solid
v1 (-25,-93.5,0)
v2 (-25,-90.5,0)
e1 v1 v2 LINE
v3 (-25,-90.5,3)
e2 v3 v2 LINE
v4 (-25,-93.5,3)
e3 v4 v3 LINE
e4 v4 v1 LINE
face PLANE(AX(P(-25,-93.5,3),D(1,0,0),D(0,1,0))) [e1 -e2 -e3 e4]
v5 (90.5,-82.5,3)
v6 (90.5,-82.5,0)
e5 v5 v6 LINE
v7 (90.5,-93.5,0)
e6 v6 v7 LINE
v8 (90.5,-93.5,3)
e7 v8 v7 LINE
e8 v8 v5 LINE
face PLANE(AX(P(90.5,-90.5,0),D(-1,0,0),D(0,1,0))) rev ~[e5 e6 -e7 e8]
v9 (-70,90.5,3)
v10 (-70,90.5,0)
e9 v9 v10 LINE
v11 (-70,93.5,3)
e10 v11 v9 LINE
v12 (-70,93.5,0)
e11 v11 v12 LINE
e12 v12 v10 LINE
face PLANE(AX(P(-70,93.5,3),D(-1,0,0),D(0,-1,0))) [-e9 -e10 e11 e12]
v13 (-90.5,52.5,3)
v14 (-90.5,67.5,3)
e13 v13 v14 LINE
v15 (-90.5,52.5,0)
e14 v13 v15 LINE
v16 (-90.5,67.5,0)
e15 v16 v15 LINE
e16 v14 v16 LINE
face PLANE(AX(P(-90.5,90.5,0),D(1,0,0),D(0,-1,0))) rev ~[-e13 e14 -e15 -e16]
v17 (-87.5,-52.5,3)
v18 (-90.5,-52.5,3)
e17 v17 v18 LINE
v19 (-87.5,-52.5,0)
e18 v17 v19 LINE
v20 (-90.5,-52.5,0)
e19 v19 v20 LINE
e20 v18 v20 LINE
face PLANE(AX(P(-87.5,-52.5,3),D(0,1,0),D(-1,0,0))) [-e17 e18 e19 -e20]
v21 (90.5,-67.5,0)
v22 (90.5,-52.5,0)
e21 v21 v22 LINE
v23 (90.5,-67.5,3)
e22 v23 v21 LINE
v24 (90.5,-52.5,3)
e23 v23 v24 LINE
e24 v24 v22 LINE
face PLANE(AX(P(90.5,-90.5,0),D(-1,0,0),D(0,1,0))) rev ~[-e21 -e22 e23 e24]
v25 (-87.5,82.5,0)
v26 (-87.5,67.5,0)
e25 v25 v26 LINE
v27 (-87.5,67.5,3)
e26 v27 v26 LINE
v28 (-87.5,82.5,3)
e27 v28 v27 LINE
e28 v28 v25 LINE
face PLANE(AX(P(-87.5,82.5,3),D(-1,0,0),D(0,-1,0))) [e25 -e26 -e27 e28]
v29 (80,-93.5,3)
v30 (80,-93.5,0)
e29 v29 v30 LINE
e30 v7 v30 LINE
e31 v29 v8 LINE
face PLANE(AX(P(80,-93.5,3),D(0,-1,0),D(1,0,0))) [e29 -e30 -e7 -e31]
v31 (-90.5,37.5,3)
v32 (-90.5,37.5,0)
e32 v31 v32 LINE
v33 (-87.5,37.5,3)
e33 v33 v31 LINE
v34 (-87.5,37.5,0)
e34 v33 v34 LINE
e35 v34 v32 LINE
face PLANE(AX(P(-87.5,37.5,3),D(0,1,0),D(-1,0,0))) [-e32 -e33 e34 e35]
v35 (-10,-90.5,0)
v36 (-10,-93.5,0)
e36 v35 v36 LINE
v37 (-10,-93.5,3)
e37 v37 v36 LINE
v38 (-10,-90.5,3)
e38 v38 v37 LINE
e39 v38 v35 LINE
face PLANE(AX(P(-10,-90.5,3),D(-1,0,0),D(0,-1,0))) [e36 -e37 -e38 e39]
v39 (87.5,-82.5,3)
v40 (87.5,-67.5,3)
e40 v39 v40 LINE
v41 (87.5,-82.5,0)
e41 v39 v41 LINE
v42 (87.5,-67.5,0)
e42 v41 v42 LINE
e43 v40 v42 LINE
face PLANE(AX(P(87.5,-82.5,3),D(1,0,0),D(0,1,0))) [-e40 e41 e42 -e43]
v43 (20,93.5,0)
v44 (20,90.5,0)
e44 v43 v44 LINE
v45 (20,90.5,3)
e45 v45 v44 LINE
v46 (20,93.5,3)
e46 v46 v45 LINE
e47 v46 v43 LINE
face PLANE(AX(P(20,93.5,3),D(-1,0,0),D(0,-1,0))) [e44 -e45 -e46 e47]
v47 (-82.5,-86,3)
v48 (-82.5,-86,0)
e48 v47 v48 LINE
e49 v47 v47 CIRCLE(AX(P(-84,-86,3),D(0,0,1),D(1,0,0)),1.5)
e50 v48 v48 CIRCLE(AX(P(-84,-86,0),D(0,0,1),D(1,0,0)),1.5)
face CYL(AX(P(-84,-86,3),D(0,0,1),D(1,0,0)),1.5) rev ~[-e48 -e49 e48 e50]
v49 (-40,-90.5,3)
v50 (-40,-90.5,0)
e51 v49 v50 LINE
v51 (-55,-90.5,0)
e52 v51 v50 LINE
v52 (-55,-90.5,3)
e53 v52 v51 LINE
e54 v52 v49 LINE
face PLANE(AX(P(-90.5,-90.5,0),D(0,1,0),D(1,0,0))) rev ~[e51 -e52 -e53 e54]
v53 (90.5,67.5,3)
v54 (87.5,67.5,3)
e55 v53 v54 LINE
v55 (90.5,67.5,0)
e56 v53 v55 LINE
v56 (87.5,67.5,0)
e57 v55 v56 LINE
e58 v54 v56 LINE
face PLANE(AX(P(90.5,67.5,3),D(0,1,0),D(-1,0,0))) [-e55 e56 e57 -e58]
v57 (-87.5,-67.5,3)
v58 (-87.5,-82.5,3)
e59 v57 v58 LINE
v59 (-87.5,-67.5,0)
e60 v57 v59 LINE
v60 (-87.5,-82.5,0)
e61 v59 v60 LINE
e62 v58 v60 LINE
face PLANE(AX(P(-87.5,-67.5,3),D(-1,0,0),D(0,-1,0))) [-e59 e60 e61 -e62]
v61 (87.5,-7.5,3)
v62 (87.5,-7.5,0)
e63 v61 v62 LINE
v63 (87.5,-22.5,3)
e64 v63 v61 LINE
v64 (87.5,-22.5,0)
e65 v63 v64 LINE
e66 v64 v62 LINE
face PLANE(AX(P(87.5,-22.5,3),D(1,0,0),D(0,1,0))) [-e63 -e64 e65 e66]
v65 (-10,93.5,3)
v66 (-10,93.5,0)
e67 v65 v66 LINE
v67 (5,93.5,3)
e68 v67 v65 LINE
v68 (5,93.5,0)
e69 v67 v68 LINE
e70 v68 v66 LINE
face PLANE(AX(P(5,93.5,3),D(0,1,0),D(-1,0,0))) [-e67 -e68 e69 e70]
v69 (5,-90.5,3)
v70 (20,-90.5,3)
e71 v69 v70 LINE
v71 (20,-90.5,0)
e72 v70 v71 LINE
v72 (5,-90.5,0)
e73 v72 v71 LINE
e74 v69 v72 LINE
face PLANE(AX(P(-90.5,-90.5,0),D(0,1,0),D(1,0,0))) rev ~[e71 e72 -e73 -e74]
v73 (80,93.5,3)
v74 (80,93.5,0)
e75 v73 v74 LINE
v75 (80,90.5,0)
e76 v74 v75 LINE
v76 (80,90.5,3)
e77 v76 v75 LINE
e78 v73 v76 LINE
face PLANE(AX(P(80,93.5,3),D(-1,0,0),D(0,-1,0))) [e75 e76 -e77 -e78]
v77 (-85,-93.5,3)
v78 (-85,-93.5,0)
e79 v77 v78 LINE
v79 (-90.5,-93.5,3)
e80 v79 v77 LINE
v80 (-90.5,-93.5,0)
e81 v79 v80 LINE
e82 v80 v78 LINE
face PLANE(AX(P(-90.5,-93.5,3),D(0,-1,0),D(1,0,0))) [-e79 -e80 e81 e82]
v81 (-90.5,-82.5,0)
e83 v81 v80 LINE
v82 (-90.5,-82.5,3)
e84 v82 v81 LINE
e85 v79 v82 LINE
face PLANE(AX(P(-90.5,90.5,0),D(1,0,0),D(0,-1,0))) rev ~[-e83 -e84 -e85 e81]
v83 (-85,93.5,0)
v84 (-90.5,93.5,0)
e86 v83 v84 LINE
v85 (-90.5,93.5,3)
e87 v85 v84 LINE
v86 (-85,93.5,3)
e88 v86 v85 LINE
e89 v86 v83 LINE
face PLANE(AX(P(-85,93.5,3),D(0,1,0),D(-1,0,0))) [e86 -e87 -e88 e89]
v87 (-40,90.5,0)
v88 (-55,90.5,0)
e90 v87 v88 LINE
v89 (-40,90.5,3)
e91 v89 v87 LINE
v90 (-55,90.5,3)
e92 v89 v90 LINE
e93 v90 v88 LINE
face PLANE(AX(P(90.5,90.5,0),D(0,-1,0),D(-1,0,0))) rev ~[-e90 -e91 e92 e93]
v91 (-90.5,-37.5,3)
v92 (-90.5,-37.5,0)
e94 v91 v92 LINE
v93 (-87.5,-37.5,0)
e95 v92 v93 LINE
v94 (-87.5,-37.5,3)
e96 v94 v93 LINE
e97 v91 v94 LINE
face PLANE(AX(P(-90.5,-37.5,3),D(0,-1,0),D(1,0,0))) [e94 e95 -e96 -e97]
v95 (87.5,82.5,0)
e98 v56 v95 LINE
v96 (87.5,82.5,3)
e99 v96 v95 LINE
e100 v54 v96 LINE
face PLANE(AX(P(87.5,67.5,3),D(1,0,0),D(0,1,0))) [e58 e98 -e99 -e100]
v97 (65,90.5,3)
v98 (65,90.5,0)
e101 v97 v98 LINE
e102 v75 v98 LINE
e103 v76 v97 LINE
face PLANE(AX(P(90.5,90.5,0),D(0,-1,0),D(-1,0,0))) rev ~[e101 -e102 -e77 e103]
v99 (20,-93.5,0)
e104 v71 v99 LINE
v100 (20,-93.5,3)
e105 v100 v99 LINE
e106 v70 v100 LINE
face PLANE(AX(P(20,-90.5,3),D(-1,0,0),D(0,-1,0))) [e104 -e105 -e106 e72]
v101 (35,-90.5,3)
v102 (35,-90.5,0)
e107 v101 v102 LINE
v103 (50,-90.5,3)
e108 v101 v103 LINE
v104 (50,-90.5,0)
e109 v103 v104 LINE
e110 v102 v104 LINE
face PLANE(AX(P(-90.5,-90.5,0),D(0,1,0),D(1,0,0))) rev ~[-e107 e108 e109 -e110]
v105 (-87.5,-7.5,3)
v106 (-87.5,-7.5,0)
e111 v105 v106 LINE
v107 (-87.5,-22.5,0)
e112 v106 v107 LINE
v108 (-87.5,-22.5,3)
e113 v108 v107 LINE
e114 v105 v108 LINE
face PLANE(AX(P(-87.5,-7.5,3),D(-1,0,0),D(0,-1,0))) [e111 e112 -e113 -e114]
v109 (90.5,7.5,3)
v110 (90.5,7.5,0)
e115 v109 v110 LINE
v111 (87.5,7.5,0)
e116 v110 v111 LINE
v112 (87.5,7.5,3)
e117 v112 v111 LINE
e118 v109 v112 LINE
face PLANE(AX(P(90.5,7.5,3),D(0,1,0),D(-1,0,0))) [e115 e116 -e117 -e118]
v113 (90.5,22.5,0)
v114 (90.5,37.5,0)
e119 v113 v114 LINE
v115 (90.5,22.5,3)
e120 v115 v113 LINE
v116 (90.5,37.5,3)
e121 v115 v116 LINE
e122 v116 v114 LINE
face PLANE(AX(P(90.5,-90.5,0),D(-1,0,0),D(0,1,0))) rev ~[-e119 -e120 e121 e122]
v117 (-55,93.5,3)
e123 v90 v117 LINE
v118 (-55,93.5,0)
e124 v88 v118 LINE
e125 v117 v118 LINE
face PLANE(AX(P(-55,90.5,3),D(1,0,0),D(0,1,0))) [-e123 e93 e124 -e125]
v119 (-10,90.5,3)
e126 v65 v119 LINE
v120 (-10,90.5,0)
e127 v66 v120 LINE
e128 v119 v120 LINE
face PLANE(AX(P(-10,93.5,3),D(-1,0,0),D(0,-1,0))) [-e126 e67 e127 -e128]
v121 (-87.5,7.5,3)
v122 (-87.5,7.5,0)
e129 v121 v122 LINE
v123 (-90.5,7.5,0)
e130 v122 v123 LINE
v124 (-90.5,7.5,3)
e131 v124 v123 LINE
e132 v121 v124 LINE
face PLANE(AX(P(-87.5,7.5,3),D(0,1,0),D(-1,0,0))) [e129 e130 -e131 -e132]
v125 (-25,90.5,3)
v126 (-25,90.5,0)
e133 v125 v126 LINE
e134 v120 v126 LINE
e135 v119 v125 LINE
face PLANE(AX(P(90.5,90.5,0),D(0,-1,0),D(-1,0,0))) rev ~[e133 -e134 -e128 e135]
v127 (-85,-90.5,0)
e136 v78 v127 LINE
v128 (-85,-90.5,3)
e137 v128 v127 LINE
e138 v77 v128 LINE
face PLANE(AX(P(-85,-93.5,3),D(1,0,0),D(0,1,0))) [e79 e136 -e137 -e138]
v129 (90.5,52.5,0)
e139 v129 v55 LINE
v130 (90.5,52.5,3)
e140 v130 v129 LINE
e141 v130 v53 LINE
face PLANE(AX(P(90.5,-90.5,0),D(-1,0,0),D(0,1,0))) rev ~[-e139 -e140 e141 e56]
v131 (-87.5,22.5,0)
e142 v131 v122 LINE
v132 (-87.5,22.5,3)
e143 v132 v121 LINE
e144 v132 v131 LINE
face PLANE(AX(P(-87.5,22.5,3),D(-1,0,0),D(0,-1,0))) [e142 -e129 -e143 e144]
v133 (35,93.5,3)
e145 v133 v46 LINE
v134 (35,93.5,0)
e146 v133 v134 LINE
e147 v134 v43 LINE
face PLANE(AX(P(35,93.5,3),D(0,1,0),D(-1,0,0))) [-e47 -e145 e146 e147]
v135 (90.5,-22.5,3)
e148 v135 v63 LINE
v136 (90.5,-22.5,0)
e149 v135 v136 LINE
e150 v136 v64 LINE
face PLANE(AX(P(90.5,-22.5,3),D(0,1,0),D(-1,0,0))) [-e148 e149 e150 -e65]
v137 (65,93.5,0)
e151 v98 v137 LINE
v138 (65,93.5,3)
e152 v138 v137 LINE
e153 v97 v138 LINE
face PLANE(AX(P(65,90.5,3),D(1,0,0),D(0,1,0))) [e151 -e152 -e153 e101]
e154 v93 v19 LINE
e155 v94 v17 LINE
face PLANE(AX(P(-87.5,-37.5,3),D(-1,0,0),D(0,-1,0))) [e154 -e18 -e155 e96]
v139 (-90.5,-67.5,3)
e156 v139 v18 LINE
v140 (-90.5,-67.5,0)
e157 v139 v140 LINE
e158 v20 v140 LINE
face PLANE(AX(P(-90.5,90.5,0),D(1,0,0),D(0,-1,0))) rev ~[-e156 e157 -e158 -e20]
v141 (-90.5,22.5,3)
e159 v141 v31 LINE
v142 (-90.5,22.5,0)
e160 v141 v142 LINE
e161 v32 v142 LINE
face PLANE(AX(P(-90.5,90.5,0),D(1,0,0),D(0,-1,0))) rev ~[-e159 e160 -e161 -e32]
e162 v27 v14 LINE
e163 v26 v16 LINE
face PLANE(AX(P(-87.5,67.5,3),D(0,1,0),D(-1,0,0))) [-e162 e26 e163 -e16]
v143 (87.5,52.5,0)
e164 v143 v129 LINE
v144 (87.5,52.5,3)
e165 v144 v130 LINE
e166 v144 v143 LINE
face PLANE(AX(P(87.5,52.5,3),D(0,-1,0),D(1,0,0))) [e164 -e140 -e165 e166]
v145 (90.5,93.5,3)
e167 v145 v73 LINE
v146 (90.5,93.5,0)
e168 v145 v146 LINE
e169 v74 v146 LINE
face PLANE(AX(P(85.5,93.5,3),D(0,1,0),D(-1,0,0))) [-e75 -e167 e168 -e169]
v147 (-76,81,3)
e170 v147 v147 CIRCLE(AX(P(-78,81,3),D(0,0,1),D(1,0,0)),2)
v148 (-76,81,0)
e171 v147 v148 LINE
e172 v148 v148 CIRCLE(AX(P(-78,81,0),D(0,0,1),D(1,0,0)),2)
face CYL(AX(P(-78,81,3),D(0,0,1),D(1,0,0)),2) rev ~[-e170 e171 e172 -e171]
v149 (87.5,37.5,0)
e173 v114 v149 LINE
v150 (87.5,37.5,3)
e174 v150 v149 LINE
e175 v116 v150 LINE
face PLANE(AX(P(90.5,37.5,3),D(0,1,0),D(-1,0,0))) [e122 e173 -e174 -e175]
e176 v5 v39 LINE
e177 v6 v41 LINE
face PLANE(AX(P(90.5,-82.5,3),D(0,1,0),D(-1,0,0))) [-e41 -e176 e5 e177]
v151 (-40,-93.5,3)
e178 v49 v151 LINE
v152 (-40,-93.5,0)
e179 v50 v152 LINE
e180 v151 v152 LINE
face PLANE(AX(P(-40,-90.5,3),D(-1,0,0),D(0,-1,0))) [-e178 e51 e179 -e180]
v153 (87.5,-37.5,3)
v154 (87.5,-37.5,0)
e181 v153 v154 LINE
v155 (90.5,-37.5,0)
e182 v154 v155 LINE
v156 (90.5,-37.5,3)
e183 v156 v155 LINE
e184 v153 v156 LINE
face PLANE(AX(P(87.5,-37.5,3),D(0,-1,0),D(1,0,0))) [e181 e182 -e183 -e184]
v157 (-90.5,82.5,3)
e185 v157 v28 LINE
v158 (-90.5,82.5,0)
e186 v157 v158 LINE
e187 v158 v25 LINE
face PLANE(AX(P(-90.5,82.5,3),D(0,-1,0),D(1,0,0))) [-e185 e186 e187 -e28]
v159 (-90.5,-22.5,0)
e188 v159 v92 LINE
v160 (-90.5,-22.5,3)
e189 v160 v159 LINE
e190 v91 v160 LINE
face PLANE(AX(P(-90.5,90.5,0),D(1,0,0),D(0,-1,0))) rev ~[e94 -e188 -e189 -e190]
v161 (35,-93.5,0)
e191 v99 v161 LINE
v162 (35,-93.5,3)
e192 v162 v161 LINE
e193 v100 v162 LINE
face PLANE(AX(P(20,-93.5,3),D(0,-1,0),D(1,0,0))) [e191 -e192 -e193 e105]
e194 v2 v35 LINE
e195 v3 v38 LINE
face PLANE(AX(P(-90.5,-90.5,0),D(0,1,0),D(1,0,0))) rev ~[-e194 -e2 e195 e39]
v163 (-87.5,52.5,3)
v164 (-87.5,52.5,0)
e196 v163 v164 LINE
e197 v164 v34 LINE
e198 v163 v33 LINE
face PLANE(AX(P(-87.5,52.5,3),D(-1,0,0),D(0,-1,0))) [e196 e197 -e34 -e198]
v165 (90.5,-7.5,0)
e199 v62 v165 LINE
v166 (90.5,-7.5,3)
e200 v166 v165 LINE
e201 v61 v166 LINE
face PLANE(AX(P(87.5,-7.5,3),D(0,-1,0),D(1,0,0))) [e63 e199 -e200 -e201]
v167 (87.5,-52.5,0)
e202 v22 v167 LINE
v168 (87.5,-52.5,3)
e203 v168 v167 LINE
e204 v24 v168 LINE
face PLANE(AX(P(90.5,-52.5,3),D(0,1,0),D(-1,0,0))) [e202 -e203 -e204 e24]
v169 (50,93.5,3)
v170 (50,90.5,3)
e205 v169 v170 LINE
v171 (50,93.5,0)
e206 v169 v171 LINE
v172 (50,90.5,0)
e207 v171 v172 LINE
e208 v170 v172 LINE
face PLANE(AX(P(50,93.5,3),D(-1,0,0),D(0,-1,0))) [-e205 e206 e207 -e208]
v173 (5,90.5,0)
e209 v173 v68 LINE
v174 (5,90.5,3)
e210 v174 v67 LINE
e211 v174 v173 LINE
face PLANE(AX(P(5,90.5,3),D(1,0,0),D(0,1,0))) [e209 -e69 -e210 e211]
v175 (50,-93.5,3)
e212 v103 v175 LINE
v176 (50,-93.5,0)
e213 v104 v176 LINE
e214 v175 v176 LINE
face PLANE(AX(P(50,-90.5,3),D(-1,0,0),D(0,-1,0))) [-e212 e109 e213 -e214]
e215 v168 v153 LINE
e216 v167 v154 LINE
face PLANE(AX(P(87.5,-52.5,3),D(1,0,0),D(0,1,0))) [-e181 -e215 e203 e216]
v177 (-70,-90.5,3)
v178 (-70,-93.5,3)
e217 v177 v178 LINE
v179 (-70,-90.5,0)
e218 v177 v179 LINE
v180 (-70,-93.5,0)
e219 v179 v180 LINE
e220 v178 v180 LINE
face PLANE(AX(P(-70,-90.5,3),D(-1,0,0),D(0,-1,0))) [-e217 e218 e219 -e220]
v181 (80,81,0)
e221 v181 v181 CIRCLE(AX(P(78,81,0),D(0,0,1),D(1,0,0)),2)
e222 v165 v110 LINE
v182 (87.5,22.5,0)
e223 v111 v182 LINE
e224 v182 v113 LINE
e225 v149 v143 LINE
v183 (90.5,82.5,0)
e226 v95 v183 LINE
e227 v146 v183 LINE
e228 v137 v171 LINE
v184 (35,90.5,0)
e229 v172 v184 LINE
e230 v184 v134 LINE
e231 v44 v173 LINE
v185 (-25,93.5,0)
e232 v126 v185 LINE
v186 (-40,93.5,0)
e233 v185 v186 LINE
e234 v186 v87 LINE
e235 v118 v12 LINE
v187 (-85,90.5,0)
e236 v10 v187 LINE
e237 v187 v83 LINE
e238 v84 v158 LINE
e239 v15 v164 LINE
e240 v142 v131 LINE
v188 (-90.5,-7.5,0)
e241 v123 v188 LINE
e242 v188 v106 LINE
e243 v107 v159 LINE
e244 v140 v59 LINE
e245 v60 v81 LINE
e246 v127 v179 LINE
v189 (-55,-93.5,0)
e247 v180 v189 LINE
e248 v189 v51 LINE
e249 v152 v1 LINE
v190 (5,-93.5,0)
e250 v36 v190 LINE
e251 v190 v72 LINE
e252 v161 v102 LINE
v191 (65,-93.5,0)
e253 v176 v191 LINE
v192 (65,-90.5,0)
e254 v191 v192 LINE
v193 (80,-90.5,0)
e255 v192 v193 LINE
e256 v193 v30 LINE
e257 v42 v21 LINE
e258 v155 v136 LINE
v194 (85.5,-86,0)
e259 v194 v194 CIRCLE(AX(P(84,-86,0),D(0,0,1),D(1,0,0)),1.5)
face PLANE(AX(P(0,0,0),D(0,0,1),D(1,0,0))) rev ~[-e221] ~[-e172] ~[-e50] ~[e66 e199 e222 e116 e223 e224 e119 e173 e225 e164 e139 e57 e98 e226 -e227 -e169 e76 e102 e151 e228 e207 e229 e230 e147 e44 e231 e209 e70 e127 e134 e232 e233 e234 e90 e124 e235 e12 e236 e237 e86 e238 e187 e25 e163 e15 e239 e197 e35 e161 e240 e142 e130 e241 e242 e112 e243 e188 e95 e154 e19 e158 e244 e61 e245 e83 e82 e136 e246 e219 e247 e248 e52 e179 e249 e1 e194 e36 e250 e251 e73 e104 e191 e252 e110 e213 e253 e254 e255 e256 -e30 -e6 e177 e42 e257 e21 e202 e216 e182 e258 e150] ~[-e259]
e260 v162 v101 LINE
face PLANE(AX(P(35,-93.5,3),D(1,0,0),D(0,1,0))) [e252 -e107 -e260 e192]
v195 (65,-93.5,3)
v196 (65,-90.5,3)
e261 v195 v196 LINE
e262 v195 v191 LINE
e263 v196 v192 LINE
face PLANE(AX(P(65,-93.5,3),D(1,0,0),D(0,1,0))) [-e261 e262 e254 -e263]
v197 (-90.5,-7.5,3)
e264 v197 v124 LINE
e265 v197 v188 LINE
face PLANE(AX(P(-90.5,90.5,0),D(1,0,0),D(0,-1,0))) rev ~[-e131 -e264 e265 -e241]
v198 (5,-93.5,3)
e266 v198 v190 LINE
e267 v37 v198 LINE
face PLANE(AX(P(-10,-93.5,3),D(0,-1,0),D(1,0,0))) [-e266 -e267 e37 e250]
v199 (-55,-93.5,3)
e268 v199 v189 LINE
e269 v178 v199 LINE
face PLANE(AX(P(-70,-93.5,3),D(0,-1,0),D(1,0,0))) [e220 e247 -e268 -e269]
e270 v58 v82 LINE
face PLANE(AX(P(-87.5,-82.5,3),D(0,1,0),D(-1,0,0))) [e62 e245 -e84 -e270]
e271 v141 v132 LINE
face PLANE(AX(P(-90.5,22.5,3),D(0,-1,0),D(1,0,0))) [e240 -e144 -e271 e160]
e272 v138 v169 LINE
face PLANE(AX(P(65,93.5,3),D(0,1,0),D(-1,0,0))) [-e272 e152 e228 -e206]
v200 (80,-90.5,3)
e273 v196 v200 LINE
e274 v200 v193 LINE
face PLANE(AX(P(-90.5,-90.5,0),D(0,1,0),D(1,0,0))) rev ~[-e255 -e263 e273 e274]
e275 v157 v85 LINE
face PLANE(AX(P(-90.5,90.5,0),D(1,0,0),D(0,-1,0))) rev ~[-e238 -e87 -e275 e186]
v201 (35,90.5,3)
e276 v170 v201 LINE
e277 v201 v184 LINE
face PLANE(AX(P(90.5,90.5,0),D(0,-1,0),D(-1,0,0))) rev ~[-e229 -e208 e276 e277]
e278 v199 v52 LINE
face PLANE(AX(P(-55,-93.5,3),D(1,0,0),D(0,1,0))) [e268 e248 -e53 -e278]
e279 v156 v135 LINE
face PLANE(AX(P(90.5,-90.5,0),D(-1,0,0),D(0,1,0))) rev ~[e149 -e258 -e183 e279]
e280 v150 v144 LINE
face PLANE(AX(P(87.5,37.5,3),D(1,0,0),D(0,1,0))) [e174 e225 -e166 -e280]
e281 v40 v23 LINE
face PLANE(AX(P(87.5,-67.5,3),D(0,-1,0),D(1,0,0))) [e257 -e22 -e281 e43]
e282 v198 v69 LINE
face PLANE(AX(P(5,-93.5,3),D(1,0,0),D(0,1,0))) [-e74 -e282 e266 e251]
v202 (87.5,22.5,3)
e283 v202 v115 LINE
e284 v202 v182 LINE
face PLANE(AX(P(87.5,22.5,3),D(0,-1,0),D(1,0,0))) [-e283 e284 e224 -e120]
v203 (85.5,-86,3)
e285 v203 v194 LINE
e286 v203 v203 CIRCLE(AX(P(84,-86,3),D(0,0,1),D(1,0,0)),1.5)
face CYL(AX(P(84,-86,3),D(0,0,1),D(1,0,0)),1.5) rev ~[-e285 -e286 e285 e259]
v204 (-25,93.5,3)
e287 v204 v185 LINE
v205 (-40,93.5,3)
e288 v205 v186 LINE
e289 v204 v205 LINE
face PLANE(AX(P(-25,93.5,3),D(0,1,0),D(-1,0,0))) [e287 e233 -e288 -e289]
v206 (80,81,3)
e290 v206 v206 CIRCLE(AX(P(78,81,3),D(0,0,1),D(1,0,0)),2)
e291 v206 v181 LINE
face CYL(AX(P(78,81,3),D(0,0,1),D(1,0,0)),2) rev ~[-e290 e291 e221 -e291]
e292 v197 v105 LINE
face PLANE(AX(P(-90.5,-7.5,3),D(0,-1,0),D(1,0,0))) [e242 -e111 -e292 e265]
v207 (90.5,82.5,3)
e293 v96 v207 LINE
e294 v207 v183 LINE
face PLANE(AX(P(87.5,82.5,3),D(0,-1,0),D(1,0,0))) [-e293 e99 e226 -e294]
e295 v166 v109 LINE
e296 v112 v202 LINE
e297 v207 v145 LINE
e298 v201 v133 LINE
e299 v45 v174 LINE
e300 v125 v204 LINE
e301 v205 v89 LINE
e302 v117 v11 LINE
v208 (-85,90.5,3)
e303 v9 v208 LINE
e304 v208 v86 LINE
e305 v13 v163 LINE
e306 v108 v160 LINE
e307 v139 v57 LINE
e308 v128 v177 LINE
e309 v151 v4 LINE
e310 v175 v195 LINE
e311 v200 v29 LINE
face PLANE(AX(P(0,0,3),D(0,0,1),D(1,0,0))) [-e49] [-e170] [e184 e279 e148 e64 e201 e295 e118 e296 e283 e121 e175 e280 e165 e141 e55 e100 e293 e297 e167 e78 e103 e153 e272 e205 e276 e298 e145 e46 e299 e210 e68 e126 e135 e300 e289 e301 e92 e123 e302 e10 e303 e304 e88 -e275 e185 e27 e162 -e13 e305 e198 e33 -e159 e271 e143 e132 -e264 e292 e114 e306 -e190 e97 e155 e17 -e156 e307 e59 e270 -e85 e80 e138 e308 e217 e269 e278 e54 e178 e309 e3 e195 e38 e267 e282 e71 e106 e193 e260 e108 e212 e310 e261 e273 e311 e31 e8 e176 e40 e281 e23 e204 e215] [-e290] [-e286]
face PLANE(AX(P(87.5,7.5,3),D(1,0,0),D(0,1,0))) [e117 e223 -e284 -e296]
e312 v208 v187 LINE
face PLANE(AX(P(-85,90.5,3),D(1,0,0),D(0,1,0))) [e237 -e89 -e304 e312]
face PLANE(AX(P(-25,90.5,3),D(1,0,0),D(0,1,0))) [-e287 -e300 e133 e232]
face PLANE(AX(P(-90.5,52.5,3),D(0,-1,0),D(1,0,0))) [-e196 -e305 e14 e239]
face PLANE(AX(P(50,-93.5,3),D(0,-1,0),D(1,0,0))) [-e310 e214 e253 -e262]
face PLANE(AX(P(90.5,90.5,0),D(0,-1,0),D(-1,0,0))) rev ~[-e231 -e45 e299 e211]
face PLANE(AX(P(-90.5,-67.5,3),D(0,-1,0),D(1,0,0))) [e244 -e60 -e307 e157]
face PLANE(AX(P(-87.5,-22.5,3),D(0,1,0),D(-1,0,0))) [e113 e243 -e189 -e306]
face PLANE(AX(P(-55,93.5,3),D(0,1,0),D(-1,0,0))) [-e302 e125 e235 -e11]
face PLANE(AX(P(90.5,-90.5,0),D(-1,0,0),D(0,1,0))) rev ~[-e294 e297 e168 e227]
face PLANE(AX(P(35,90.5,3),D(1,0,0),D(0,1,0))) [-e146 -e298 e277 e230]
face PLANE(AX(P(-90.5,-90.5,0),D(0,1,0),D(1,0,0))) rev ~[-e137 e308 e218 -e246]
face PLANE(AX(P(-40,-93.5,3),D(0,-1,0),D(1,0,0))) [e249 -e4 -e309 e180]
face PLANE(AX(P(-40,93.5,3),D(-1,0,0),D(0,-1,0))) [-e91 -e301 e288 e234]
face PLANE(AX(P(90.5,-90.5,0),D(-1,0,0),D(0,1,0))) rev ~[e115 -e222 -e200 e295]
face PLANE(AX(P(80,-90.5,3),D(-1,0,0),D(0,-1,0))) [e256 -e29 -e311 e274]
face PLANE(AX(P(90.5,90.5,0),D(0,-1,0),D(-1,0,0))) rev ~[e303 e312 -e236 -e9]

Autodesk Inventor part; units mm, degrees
ref_plane "YZ Plane" through (0, 0, 0) normal (1, 0, 0) x (0, 1, 0)
ref_plane "XZ Plane" through (0, 0, 0) normal (0, 1, 0) x (-1, 0, 0)
ref_plane "XY Plane" through (0, 0, 0) normal (0, 0, 1) x (1, 0, 0)
sketch "Sketch1" plane through (0, 0, 0) normal (0, 0, 1) x (1, 0, 0)
  line L0 (-90.5, -90.5) -> (90.5, -90.5)
  line L1 (90.5, -90.5) -> (90.5, 90.5)
  line L2 (90.5, 90.5) -> (-90.5, 90.5)
  line L3 (-90.5, 90.5) -> (-90.5, -90.5)
  line L4 (-90.5, -90.5) -> (90.5, 90.5) construction
  line L5 (90.5, -90.5) -> (-90.5, 90.5) construction
  point P0 (0, 0)
  dimension "d0" = 181
  dimension "d1" = 181
extrude "Extrusion1" add sketch "Sketch1" along normal blind 3
sketch "Sketch2" plane through (0, 0, 3) normal (0, 0, 1) x (1, 0, 0)
  line L0 (90.5, 90.5) -> (-90.5, 90.5) projected
  line L1 (-90.5, 90.5) -> (-85, 90.5)
  line L2 (-85, 90.5) -> (-85, 93.5)
  line L3 (-85, 93.5) -> (-90.5, 93.5)
  line L4 (-90.5, 93.5) -> (-90.5, 90.5)
  line L5 (80, 90.5) -> (85.5, 90.5)
  line L6 (85.5, 90.5) -> (85.5, 93.5)
  line L7 (85.5, 93.5) -> (80, 93.5)
  line L8 (80, 93.5) -> (80, 90.5)
  line L9 (-90.5, -93.5) -> (-85, -93.5)
  line L10 (-85, -93.5) -> (-85, -90.5)
  line L11 (-85, -90.5) -> (-90.5, -90.5)
  line L12 (-90.5, -90.5) -> (-90.5, -93.5)
  line L13 (80, -93.5) -> (85.5, -93.5)
  line L14 (85.5, -93.5) -> (85.5, -90.5)
  line L15 (85.5, -90.5) -> (80, -90.5)
  line L16 (80, -90.5) -> (80, -93.5)
  line L17 (-70, 90.5) -> (-55, 90.5)
  line L18 (-55, 90.5) -> (-55, 93.5)
  line L19 (-55, 93.5) -> (-70, 93.5)
  line L20 (-70, 93.5) -> (-70, 90.5)
  line L21 (-25, 90.5) -> (-25, 93.5)
  line L22 (-40, 90.5) -> (-25, 90.5)
  line L23 (-25, 93.5) -> (-40, 93.5)
  line L24 (-40, 93.5) -> (-40, 90.5)
  line L25 (5, 90.5) -> (5, 93.5)
  line L26 (-10, 90.5) -> (5, 90.5)
  line L27 (5, 93.5) -> (-10, 93.5)
  line L28 (-10, 93.5) -> (-10, 90.5)
  line L29 (35, 90.5) -> (35, 93.5)
  line L30 (20, 90.5) -> (35, 90.5)
  line L31 (35, 93.5) -> (20, 93.5)
  line L32 (20, 93.5) -> (20, 90.5)
  line L33 (65, 90.5) -> (65, 93.5)
  line L34 (50, 90.5) -> (65, 90.5)
  line L35 (65, 93.5) -> (50, 93.5)
  line L36 (50, 93.5) -> (50, 90.5)
  line L37 (-55, -93.5) -> (-55, -90.5)
  line L38 (-70, -93.5) -> (-55, -93.5)
  line L39 (-55, -90.5) -> (-70, -90.5)
  line L40 (-70, -90.5) -> (-70, -93.5)
  line L41 (-25, -93.5) -> (-25, -90.5)
  line L42 (-40, -93.5) -> (-25, -93.5)
  line L43 (-25, -90.5) -> (-40, -90.5)
  line L44 (-40, -90.5) -> (-40, -93.5)
  line L45 (5, -93.5) -> (5, -90.5)
  line L46 (-10, -93.5) -> (5, -93.5)
  line L47 (5, -90.5) -> (-10, -90.5)
  line L48 (-10, -90.5) -> (-10, -93.5)
  line L49 (35, -93.5) -> (35, -90.5)
  line L50 (20, -93.5) -> (35, -93.5)
  line L51 (35, -90.5) -> (20, -90.5)
  line L52 (20, -90.5) -> (20, -93.5)
  line L53 (65, -93.5) -> (65, -90.5)
  line L54 (50, -93.5) -> (65, -93.5)
  line L55 (65, -90.5) -> (50, -90.5)
  line L56 (50, -90.5) -> (50, -93.5)
  point P0 (0, 0)
  dimension "d4" = 5.5
  dimension "d5" = 3
  dimension "d8" = 170.5
  dimension "d11" = 184
  dimension "d14" = 15
  dimension "d15" = 3
  dimension "d16" = 15
  dimension "d19" = 30
  dimension "d22" = 184
extrude "Extrusion2" add sketch "Sketch2" against normal blind 3
sketch "Sketch3" plane through (0, 0, 3) normal (0, 0, 1) x (1, 0, 0)
  line L0 (-90.5, 93.5) -> (-90.5, -93.5) projected
  line L1 (-90.5, 82.5) -> (-87.5, 82.5)
  line L2 (-87.5, 82.5) -> (-87.5, 67.5)
  line L3 (-87.5, 67.5) -> (-90.5, 67.5)
  line L4 (-90.5, 67.5) -> (-90.5, 82.5)
  line L5 (-85, 93.5) -> (-90.5, 93.5) projected
  line L6 (-90.5, 52.5) -> (-87.5, 52.5)
  line L7 (-87.5, 52.5) -> (-87.5, 37.5)
  line L8 (-87.5, 37.5) -> (-90.5, 37.5)
  line L9 (-90.5, 37.5) -> (-90.5, 52.5)
  line L10 (-90.5, 22.5) -> (-87.5, 22.5)
  line L11 (-87.5, 22.5) -> (-87.5, 7.5)
  line L12 (-87.5, 7.5) -> (-90.5, 7.5)
  line L13 (-90.5, 7.5) -> (-90.5, 22.5)
  line L14 (-90.5, -7.5) -> (-87.5, -7.5)
  line L15 (-87.5, -7.5) -> (-87.5, -22.5)
  line L16 (-87.5, -22.5) -> (-90.5, -22.5)
  line L17 (-90.5, -22.5) -> (-90.5, -7.5)
  line L18 (-90.5, -37.5) -> (-87.5, -37.5)
  line L19 (-87.5, -37.5) -> (-87.5, -52.5)
  line L20 (-87.5, -52.5) -> (-90.5, -52.5)
  line L21 (-90.5, -52.5) -> (-90.5, -37.5)
  line L22 (-90.5, -67.5) -> (-87.5, -67.5)
  line L23 (-87.5, -67.5) -> (-87.5, -82.5)
  line L24 (-87.5, -82.5) -> (-90.5, -82.5)
  line L25 (-90.5, -82.5) -> (-90.5, -67.5)
  line L26 (87.5, 82.5) -> (90.5, 82.5)
  line L27 (90.5, 82.5) -> (90.5, 67.5)
  line L28 (90.5, 67.5) -> (87.5, 67.5)
  line L29 (87.5, 67.5) -> (87.5, 82.5)
  line L30 (87.5, 52.5) -> (90.5, 52.5)
  line L31 (90.5, 52.5) -> (90.5, 37.5)
  line L32 (90.5, 37.5) -> (87.5, 37.5)
  line L33 (87.5, 37.5) -> (87.5, 52.5)
  line L34 (87.5, 22.5) -> (90.5, 22.5)
  line L35 (90.5, 22.5) -> (90.5, 7.5)
  line L36 (90.5, 7.5) -> (87.5, 7.5)
  line L37 (87.5, 7.5) -> (87.5, 22.5)
  line L38 (87.5, -7.5) -> (90.5, -7.5)
  line L39 (90.5, -7.5) -> (90.5, -22.5)
  line L40 (90.5, -22.5) -> (87.5, -22.5)
  line L41 (87.5, -22.5) -> (87.5, -7.5)
  line L42 (87.5, -37.5) -> (90.5, -37.5)
  line L43 (90.5, -37.5) -> (90.5, -52.5)
  line L44 (90.5, -52.5) -> (87.5, -52.5)
  line L45 (87.5, -52.5) -> (87.5, -37.5)
  line L46 (87.5, -67.5) -> (90.5, -67.5)
  line L47 (90.5, -67.5) -> (90.5, -82.5)
  line L48 (90.5, -82.5) -> (87.5, -82.5)
  line L49 (87.5, -82.5) -> (87.5, -67.5)
  point P0 (0, 0)
  dimension "d27" = 3
  dimension "d28" = 15
  dimension "d29" = 11
  dimension "d32" = 30
  dimension "d35" = 178
extrude "Extrusion3" cut sketch "Sketch3" against normal blind 3
sketch "Sketch4" plane through (0, 0, 3) normal (0, 0, 1) x (1, 0, 0)
  line L0 (80, 93.5) -> (85.5, 93.5) projected
  line L1 (90.5, 90.5) -> (85.5, 90.5) projected
  line L2 (85.5, 93.5) -> (90.5, 93.5)
  line L3 (90.5, 93.5) -> (90.5, 90.5)
  line L4 (90.5, 90.5) -> (85.5, 90.5)
  line L5 (85.5, 90.5) -> (85.5, 93.5)
  line L6 (85.5, -90.5) -> (90.5, -90.5) projected
  line L7 (85.5, -90.5) -> (90.5, -90.5)
  line L8 (90.5, -90.5) -> (90.5, -93.5)
  line L9 (90.5, -93.5) -> (85.5, -93.5)
  line L10 (85.5, -93.5) -> (85.5, -90.5)
  point P0 (0, 0)
  dimension "d40" = 184
extrude "Extrusion4" add sketch "Sketch4" against normal blind 3
sketch "Sketch5" plane through (0, 0, 3) normal (0, 0, 1) x (1, 0, 0)
  circle A0 centre (-84, -86) radius 1.5
  circle A1 centre (84, -86) radius 1.5
  line L0 (90.5, -82.5) -> (90.5, -93.5) projected
  line L1 (90.5, -93.5) -> (80, -93.5) projected
  line L2 (-85, -93.5) -> (-90.5, -93.5) projected
  line L3 (-90.5, -82.5) -> (-90.5, -93.5) projected
  point P0 (0, 0)
  dimension "d43" = 3
  dimension "d44" = 3
  dimension "d45" = 6.5
  dimension "d46" = 7.5
  dimension "d47" = 7.5
  dimension "d48" = 6.5
extrude "Extrusion5" cut sketch "Sketch5" against normal blind 10
sketch "Sketch6" plane through (0, 0, 3) normal (0, 0, 1) x (1, 0, 0)
  circle A0 centre (-78, 81) radius 2
  circle A1 centre (78, 81) radius 2
  line L0 (-87.5, 82.5) -> (-87.5, 67.5) projected
  line L1 (-70, 90.5) -> (-85, 90.5) projected
  line L2 (80, 90.5) -> (65, 90.5) projected
  line L3 (87.5, 67.5) -> (87.5, 82.5) projected
  point P0 (0, 0)
  dimension "d51" = 4
  dimension "d52" = 4
  dimension "d53" = 9.5
  dimension "d54" = 9.5
  dimension "d55" = 9.5
  dimension "d56" = 9.5
extrude "Extrusion6" cut sketch "Sketch6" against normal blind 10
equation "\"d47\" = d46"
equation "\"d48\" = d45"
equation "\"BendRadius\" = Thickness"
equation "\"BendReliefWidth\" = Thickness"
equation "\"BendReliefDepth\" = 0.5 * Thickness"
equation "\"CornerReliefSize\" = 4 * Thickness"
equation "\"MinimumRemnant\" = 2 * Thickness"
equation "\"TransitionRadius\" = BendRadius"
equation "\"JacobiRadiusSize\" = BendRadius"
equation "\"GapSize\" = Thickness"
equation "\"Thickness\" = 0.5"
properties part number "7 achter plaat"
